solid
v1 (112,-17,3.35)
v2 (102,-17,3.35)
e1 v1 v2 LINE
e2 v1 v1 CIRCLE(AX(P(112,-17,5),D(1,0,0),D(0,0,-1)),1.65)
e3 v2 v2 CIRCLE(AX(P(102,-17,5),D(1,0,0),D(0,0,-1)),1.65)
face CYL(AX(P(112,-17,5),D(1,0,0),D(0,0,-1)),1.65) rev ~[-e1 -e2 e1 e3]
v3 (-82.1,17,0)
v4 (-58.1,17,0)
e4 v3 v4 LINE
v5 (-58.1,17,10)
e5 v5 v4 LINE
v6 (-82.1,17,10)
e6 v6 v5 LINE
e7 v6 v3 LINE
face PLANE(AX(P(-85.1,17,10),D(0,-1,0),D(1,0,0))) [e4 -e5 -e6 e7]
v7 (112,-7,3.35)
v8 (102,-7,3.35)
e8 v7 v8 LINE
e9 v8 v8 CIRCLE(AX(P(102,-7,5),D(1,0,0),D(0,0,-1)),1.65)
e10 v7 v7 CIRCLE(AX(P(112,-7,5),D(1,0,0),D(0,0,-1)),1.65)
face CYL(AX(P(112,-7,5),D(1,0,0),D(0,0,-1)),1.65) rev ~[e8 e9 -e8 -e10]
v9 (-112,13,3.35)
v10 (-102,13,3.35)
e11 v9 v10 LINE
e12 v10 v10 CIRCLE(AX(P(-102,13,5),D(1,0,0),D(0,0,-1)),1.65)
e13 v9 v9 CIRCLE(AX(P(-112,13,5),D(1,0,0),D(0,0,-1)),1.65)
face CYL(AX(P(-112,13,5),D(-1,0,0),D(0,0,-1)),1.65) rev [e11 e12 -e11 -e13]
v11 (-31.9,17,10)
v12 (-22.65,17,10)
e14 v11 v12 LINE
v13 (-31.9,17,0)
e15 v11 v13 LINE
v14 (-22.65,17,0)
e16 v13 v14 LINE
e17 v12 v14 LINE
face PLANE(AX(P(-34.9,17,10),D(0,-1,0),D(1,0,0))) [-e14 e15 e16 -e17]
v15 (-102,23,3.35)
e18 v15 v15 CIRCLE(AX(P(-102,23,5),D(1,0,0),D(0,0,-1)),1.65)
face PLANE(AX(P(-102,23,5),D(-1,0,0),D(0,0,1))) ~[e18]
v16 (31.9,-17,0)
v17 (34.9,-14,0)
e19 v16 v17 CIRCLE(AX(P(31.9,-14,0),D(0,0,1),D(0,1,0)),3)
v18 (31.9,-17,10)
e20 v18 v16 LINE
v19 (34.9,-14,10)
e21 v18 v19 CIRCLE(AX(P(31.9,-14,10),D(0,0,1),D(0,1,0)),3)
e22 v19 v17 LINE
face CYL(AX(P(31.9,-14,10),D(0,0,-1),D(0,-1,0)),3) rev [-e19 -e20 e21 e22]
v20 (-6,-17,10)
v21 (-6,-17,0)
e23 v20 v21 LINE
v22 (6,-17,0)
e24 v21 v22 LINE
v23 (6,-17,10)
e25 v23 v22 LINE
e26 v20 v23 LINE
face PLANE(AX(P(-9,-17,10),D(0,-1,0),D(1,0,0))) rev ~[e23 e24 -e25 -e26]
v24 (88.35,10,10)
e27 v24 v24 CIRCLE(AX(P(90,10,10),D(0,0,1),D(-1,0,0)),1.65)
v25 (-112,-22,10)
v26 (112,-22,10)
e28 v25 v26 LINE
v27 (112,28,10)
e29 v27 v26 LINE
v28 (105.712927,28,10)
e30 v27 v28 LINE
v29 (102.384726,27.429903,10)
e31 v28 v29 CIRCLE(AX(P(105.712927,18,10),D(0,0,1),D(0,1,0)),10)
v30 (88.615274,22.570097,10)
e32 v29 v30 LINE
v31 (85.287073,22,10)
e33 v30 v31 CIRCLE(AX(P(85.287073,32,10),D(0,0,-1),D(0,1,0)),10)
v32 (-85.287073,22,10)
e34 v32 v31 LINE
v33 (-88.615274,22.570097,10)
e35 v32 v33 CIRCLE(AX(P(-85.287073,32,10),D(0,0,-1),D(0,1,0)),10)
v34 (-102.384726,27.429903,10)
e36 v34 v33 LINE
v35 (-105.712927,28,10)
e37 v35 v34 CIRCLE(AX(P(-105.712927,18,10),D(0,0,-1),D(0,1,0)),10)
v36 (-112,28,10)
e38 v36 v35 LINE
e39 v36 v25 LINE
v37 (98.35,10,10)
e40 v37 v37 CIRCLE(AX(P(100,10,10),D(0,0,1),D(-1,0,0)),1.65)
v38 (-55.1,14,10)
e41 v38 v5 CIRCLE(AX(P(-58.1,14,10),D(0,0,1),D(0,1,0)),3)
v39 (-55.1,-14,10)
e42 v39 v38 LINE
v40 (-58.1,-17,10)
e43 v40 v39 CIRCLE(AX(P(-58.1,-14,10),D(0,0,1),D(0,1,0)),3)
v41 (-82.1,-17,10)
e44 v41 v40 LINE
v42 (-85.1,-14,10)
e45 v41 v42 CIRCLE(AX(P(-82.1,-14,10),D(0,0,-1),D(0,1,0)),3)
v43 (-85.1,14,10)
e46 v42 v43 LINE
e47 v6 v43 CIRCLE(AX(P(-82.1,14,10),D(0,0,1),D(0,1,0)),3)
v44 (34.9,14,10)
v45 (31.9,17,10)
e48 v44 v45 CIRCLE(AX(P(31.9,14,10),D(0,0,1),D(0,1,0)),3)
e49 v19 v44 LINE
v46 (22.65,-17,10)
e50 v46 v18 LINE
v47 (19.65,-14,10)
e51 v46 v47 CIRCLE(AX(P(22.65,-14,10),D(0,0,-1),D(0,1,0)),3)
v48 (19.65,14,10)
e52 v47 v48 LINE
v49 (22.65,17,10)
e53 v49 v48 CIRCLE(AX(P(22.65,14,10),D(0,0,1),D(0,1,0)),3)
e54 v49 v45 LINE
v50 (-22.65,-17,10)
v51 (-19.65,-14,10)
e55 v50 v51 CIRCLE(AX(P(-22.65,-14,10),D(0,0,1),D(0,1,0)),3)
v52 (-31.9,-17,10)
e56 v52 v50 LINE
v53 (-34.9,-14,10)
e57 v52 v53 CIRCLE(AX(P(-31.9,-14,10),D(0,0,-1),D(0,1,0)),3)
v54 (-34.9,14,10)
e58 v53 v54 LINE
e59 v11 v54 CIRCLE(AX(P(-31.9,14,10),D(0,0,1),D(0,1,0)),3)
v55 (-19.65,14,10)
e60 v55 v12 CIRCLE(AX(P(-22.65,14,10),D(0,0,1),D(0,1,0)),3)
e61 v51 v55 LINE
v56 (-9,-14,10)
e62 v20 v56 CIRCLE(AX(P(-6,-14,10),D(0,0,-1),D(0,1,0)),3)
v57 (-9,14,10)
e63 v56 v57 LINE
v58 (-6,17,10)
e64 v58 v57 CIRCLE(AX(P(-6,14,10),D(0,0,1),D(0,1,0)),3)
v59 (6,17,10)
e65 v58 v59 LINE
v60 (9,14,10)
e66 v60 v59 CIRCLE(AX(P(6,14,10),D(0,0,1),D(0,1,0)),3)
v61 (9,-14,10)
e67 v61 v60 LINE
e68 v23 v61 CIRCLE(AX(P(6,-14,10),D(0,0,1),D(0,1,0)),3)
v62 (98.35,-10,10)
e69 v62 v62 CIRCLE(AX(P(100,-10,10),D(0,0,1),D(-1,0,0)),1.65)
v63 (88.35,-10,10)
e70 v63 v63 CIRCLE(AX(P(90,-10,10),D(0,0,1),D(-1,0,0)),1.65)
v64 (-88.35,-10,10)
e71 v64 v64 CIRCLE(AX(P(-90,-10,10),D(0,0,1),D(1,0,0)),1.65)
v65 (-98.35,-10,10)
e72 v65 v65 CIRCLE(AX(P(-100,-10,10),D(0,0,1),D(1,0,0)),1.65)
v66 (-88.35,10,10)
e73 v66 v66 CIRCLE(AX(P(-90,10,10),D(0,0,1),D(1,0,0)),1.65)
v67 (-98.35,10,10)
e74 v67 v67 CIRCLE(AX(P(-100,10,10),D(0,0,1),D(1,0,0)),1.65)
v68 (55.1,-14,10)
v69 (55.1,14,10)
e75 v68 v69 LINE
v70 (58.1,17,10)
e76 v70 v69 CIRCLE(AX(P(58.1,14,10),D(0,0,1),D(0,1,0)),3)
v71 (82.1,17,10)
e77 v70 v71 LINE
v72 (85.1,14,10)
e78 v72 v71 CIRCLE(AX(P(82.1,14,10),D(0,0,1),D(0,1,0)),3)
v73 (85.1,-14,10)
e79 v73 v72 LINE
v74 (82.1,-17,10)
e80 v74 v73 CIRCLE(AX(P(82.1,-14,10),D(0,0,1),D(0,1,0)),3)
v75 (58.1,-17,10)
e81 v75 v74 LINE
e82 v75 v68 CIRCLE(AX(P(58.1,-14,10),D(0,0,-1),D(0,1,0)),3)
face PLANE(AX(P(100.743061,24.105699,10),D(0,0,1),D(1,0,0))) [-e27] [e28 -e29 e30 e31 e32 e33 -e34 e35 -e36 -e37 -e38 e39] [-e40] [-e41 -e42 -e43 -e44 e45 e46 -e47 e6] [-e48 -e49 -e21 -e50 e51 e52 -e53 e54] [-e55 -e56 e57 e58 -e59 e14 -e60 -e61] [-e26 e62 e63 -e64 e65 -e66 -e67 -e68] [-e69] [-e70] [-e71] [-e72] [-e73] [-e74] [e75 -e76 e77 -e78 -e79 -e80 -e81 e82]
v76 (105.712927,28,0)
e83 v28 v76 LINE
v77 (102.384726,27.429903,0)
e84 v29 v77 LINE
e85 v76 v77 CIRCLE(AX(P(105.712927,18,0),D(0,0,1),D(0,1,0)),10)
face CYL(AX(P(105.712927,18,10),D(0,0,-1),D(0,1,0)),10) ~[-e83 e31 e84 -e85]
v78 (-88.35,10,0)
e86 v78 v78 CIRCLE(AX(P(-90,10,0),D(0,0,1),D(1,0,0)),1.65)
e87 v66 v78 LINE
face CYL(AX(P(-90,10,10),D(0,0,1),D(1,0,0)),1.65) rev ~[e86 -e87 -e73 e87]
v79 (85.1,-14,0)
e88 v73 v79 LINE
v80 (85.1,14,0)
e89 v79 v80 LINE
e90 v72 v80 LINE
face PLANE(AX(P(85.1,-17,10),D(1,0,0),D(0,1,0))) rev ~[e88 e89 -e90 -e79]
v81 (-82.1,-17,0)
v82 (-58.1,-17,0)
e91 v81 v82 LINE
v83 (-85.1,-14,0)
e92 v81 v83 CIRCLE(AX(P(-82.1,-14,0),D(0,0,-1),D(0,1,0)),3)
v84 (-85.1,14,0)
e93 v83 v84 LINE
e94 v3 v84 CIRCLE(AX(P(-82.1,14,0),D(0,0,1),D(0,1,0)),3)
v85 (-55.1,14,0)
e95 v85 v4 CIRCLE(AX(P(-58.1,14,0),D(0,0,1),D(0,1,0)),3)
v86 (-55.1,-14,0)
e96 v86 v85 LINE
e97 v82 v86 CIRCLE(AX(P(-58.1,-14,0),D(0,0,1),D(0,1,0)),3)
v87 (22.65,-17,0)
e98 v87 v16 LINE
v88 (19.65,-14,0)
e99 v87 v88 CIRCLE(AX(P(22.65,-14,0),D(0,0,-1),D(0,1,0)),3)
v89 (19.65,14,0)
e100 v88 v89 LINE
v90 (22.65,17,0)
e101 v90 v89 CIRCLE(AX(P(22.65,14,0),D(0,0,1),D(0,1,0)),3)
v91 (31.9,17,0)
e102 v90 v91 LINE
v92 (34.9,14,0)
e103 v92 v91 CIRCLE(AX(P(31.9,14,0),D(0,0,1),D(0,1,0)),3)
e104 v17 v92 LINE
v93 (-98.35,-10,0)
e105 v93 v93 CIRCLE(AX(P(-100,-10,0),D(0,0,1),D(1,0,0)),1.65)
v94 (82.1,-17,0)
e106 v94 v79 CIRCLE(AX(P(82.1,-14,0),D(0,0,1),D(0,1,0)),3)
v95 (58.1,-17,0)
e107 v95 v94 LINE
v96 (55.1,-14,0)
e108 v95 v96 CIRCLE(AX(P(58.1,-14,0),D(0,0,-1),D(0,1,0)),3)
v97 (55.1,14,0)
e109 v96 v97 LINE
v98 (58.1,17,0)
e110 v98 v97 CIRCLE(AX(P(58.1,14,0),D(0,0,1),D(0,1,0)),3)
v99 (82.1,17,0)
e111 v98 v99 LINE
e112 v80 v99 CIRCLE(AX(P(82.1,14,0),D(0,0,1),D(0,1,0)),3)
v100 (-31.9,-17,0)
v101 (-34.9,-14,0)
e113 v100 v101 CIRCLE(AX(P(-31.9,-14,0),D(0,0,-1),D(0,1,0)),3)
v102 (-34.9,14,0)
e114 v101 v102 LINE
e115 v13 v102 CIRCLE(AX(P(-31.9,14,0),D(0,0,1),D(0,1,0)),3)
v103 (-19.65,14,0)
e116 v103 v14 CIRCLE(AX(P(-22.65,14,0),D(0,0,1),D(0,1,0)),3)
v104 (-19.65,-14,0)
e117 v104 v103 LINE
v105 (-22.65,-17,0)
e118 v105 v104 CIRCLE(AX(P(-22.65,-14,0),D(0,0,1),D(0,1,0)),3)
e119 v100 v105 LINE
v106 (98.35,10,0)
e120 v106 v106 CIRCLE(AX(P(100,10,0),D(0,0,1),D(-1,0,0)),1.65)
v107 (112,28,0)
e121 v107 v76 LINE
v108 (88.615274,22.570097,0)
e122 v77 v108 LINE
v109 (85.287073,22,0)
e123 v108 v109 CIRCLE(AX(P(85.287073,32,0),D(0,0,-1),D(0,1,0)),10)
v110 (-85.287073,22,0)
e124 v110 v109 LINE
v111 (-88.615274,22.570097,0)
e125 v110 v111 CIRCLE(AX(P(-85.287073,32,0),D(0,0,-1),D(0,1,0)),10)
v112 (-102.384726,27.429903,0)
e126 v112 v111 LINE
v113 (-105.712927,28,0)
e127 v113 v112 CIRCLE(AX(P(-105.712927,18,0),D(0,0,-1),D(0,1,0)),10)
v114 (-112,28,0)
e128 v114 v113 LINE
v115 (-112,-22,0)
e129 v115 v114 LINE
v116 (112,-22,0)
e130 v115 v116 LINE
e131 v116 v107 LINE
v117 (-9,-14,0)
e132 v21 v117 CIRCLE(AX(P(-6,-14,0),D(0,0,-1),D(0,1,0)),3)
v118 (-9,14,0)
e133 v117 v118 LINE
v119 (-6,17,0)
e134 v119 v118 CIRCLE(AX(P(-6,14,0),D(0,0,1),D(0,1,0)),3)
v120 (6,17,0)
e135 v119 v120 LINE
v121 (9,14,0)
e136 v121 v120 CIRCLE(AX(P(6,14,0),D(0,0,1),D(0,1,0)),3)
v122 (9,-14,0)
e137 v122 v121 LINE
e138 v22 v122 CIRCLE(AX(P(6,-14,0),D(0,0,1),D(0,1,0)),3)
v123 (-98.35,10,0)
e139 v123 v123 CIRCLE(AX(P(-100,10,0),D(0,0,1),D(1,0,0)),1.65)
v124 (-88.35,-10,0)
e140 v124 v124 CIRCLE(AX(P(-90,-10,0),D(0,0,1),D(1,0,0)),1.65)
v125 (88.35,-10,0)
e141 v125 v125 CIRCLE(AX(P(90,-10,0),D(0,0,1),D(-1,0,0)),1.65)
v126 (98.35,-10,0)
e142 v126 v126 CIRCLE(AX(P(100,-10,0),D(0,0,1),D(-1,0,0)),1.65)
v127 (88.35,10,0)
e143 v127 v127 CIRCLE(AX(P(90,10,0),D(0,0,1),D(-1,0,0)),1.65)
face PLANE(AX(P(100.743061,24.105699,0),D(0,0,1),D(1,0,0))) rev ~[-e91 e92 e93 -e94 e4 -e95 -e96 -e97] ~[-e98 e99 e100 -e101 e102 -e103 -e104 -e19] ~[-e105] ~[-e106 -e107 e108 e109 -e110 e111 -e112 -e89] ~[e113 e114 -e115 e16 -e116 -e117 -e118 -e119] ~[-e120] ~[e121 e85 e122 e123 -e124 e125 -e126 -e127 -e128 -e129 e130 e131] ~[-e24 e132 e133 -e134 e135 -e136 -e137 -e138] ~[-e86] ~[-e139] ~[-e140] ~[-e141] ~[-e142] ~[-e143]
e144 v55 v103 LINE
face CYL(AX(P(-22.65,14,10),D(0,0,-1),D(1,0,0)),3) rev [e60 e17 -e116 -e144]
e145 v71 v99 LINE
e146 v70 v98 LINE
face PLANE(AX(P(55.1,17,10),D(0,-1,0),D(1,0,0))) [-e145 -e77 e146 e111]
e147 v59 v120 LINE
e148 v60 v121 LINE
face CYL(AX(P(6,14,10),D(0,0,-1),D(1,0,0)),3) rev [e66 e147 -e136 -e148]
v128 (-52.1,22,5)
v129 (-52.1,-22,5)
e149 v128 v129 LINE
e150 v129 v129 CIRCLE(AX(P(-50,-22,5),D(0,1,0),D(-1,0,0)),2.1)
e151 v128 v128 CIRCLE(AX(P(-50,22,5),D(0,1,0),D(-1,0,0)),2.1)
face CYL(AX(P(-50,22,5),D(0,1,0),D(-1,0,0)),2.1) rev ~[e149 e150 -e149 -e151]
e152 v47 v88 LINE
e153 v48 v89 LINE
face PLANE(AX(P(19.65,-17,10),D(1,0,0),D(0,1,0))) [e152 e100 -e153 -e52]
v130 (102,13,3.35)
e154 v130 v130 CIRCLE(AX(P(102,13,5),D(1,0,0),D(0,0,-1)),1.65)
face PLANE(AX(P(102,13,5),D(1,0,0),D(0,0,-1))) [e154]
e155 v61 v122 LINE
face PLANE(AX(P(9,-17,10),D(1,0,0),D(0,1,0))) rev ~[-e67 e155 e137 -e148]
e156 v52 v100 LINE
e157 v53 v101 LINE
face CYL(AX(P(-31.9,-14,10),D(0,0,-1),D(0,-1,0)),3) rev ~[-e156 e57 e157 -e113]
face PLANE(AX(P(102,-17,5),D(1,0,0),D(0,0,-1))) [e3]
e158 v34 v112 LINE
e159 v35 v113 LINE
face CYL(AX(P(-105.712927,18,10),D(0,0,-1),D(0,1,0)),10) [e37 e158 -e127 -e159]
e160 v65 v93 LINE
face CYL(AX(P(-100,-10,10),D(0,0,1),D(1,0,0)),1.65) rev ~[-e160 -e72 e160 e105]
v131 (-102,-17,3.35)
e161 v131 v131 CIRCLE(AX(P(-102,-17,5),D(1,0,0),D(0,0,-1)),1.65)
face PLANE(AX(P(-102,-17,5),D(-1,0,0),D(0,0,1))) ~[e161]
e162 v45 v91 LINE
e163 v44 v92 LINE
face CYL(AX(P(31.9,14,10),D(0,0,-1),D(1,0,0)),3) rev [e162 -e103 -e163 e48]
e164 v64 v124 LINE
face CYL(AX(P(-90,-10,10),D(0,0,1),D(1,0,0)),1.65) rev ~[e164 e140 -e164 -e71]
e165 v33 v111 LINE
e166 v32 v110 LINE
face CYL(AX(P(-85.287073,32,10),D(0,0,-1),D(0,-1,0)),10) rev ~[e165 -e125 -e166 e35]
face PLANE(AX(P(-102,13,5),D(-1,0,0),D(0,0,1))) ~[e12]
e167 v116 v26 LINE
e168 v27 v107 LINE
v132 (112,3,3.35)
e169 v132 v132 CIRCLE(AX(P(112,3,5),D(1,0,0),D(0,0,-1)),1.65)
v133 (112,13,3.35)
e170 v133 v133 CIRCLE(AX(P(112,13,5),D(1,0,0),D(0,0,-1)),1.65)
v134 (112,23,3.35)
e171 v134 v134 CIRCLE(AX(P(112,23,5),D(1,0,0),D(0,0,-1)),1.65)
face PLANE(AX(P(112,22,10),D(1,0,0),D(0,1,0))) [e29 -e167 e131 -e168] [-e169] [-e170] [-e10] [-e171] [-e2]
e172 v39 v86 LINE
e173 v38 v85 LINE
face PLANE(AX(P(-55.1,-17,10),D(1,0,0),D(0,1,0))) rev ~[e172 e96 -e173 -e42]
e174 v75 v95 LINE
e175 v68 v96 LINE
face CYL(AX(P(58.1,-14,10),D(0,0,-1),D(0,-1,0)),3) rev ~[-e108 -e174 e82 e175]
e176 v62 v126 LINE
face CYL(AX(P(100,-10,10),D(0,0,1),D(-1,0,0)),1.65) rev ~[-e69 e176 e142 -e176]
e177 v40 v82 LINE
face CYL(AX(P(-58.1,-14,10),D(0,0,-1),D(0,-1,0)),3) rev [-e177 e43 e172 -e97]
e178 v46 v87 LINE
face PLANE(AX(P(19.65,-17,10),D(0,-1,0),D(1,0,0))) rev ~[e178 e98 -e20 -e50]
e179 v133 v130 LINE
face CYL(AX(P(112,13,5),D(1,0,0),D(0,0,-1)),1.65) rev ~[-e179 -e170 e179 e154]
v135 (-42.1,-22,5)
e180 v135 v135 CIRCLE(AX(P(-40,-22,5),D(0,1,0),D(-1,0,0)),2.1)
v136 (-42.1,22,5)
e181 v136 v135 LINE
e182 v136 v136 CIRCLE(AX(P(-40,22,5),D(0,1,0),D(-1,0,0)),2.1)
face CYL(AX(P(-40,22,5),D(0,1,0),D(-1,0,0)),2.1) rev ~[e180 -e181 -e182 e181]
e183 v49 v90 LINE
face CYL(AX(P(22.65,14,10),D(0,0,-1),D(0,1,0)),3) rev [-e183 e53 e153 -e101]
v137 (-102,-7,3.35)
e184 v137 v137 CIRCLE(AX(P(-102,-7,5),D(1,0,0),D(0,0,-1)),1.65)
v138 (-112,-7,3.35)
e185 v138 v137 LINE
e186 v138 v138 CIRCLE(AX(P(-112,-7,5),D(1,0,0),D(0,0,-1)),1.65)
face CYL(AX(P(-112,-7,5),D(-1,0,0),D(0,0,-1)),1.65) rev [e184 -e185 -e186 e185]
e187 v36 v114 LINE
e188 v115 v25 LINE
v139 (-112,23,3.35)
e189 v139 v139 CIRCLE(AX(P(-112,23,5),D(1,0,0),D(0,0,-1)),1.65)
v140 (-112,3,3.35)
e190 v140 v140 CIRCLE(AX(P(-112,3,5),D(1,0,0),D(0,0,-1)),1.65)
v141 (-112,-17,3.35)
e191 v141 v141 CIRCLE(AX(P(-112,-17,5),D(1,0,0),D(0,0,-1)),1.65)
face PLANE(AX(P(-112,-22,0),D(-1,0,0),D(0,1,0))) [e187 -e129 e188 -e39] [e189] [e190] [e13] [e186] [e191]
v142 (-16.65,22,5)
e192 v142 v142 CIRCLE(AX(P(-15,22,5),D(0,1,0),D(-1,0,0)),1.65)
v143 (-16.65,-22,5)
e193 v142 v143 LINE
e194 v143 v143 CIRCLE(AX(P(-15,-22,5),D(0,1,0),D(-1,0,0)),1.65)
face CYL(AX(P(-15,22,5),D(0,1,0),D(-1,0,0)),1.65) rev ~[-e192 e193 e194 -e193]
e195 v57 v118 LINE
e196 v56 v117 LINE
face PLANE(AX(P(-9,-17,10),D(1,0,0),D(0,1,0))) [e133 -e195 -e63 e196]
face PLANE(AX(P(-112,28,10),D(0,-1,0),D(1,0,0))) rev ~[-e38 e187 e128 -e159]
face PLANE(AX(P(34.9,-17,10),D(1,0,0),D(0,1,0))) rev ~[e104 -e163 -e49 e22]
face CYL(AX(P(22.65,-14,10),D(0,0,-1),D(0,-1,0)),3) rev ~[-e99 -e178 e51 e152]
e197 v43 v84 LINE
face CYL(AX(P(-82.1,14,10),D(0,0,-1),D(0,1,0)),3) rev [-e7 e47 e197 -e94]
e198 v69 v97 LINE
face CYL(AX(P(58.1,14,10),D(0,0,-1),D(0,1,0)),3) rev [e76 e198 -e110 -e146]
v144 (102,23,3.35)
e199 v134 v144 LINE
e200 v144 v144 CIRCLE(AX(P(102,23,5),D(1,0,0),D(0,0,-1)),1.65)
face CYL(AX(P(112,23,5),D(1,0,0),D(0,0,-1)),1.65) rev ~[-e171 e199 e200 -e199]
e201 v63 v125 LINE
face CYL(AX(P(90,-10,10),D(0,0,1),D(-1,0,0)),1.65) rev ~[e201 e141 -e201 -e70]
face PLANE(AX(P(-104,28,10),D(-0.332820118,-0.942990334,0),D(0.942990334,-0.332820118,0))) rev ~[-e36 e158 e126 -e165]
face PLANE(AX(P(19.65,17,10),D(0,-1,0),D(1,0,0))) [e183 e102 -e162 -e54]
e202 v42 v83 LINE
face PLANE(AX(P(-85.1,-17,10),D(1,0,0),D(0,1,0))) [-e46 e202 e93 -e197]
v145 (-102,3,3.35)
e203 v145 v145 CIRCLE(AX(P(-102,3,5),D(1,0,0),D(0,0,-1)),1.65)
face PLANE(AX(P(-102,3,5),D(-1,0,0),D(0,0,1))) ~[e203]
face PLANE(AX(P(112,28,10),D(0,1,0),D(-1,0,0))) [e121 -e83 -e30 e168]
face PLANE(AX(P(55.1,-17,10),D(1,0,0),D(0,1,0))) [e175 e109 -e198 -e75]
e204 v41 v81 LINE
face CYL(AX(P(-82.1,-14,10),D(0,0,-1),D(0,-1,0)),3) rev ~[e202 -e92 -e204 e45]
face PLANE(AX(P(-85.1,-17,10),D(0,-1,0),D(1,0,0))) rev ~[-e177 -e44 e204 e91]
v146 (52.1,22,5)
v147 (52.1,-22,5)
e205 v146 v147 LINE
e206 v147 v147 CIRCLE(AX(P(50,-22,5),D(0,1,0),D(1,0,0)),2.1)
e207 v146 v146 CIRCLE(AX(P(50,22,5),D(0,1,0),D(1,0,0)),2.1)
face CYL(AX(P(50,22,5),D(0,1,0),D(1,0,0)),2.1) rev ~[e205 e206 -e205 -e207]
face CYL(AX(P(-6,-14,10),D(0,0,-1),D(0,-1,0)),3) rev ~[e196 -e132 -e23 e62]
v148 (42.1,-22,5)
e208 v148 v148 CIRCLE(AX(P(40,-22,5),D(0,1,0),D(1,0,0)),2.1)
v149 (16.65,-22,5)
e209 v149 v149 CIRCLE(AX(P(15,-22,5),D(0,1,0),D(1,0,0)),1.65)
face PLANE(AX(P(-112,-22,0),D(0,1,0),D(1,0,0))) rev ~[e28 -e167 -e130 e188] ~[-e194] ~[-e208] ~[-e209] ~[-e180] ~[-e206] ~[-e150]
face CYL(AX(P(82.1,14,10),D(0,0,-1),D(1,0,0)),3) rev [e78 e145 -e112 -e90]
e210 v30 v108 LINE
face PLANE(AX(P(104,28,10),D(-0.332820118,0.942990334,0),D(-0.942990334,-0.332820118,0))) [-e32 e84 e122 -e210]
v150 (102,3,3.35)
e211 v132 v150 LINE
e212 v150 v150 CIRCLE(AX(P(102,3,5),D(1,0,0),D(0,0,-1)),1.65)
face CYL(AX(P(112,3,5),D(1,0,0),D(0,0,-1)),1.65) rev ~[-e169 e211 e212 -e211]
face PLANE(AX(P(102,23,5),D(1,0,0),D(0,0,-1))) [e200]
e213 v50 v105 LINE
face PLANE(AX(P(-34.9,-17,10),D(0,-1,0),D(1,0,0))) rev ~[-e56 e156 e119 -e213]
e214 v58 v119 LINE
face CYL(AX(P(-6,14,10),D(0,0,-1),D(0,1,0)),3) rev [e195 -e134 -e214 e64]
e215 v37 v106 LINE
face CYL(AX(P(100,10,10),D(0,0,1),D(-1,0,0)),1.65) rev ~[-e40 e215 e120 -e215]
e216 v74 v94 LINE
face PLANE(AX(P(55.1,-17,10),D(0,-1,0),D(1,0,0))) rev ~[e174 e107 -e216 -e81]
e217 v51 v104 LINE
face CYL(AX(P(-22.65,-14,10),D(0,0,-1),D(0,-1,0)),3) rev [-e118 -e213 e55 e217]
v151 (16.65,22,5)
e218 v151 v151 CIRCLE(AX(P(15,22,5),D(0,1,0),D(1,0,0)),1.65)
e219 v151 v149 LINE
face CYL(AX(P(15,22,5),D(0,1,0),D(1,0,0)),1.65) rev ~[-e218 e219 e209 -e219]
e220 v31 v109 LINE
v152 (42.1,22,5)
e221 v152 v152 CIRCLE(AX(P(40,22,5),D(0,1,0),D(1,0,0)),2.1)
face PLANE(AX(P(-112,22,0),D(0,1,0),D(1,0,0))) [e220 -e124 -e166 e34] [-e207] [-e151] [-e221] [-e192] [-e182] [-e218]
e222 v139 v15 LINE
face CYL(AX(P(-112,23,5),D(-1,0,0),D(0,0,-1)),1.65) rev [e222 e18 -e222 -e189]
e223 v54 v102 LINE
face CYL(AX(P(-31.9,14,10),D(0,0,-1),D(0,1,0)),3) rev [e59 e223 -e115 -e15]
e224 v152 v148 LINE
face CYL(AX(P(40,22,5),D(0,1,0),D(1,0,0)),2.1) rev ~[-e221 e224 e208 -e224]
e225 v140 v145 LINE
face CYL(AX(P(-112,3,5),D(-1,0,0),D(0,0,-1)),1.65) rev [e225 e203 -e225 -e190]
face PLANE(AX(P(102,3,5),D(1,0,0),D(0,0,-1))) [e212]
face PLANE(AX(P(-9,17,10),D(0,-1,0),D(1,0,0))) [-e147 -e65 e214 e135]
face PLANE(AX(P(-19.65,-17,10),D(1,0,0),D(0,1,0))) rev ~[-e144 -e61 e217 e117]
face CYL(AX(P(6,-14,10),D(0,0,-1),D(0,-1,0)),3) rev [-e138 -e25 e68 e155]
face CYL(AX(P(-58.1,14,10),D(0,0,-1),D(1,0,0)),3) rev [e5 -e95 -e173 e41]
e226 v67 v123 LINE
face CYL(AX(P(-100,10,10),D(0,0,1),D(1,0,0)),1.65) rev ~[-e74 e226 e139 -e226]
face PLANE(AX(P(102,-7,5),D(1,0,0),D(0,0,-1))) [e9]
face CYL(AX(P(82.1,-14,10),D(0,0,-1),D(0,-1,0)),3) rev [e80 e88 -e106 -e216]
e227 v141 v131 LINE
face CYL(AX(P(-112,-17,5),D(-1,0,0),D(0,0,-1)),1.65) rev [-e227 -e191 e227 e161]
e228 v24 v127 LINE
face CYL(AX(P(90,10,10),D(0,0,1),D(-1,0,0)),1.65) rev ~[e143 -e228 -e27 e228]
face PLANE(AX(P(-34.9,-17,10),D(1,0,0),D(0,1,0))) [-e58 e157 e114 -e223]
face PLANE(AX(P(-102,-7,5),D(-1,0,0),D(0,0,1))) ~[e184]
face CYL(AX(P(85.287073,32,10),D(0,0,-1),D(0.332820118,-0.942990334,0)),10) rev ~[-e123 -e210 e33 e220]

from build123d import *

# Parameters (mm, degrees)
SKETCH_1_W          = 224
SKETCH_1_H          = 44
EXTRUDE_1_DEPTH     = 10
SKETCH_2_R          = 2.1
SKETCH_2_R_2        = 1.65
CUT_EXTRUDE_1_DEPTH = 121.747670785
EXTRUDE_2_DEPTH     = 10
SKETCH_5_R          = 1.65
CUT_EXTRUDE_2_DEPTH = 10
SKETCH_6_R          = 1.65
CUT_EXTRUDE_3_DEPTH = 116.879247495
FILLET_1_R          = 10
SKETCH_7_W          = 18
SKETCH_7_H          = 34
SKETCH_7_W_2        = 15.25
SKETCH_7_W_3        = 30
CUT_EXTRUDE_4_DEPTH = 116.879247495
FILLET_2_R          = 3


with BuildPart() as part:
    # 草图1 → 凸台-拉伸1 (new body)
    with BuildSketch(Plane.XY):
        Rectangle(SKETCH_1_W, SKETCH_1_H)
    extrude(amount=EXTRUDE_1_DEPTH)

    # 草图2 → 切除-拉伸1 (cut, through all)
    with BuildSketch(Plane(origin=(0, 22, 0), x_dir=(1, 0, 0), z_dir=(0, 1, 0))):
        with Locations(Location((-40, -5, 0), (0, 0, 180))):
            Circle(SKETCH_2_R)
        with Locations(Location((-50, -5, 0), (0, 0, 180))):
            Circle(SKETCH_2_R)
        with Locations((50, -5)):
            Circle(SKETCH_2_R)
        with Locations((40, -5)):
            Circle(SKETCH_2_R)
        with Locations(Location((-15, -5, 0), (0, 0, 180))):
            Circle(SKETCH_2_R_2)
        with Locations((15, -5)):
            Circle(SKETCH_2_R_2)
    extrude(amount=-CUT_EXTRUDE_1_DEPTH, mode=Mode.SUBTRACT)

    # 草图4 → 凸台-拉伸2 (add)
    with BuildSketch(Plane.XY.offset(10)):
        Polygon((112, 22), (112, 28), (104, 28), (87, 22), align=None)
        Polygon((-87, 22), (-112, 22), (-112, 28), (-104, 28), align=None)
    extrude(amount=-EXTRUDE_2_DEPTH)

    # 草图5 → 切除-拉伸2 (cut)
    with BuildSketch(Plane(origin=(112, 0, 0), x_dir=(0, 0, -1), z_dir=(1, 0, 0))):
        with Locations((-5, 23)):
            Circle(SKETCH_5_R)
        with Locations((-5, 13)):
            Circle(SKETCH_5_R)
        with Locations((-5, 3)):
            Circle(SKETCH_5_R)
        with Locations((-5, -7)):
            Circle(SKETCH_5_R)
        with Locations((-5, -17)):
            Circle(SKETCH_5_R)
    cut_extrude_2 = extrude(amount=-CUT_EXTRUDE_2_DEPTH, mode=Mode.SUBTRACT)

    # 镜向1: 切除-拉伸2 across plane
    add(cut_extrude_2.mirror(Plane(origin=(0, 0, 0), x_dir=(0, 0, 1), z_dir=(1, 0, 0))), mode=Mode.SUBTRACT)

    # 草图6 → 切除-拉伸3 (cut, through all)
    with BuildSketch(Plane.XY.offset(10)):
        with Locations((-100, 10)):
            Circle(SKETCH_6_R)
        with Locations((-100, -10)):
            Circle(SKETCH_6_R)
        with Locations(Location((100, -10, 0), (0, 0, 180))):
            Circle(SKETCH_6_R)
        with Locations(Location((100, 10, 0), (0, 0, 180))):
            Circle(SKETCH_6_R)
        with Locations((-90, 10)):
            Circle(SKETCH_6_R)
        with Locations((-90, -10)):
            Circle(SKETCH_6_R)
        with Locations(Location((90, -10, 0), (0, 0, 180))):
            Circle(SKETCH_6_R)
        with Locations(Location((90, 10, 0), (0, 0, 180))):
            Circle(SKETCH_6_R)
    extrude(amount=-CUT_EXTRUDE_3_DEPTH, mode=Mode.SUBTRACT)

    # 圆角1
    fillet_1_edges = [part.edges().sort_by_distance(p)[0] for p in [
        (87, 22, 5),
        (104, 28, 5),
        (-104, 28, 5),
        (-87, 22, 5),
    ]]
    fillet(fillet_1_edges, radius=FILLET_1_R)

    # 草图7 → 切除-拉伸4 (cut, through all)
    with BuildSketch(Plane.XY.offset(10)):
        Rectangle(SKETCH_7_W, SKETCH_7_H)
        with Locations((27.275, 0)):
            Rectangle(SKETCH_7_W_2, SKETCH_7_H)
        with Locations((70.1, 0)):
            Rectangle(SKETCH_7_W_3, SKETCH_7_H)
        with Locations((-70.1, 0)):
            Rectangle(SKETCH_7_W_3, SKETCH_7_H)
        with Locations((-27.275, 0)):
            Rectangle(SKETCH_7_W_2, SKETCH_7_H)
    extrude(amount=-CUT_EXTRUDE_4_DEPTH, mode=Mode.SUBTRACT)

    # 圆角2
    fillet_2_edges = [part.edges().sort_by_distance(p)[0] for p in [
        (-19.65, 17, 5),
        (-19.65, -17, 5),
        (-34.9, -17, 5),
        (-34.9, 17, 5),
        (-85.1, -17, 5),
        (-85.1, 17, 5),
        (-55.1, 17, 5),
        (-55.1, -17, 5),
        (55.1, -17, 5),
        (55.1, 17, 5),
        (85.1, 17, 5),
        (85.1, -17, 5),
        (34.9, 17, 5),
        (34.9, -17, 5),
        (19.65, -17, 5),
        (19.65, 17, 5),
        (9, 17, 5),
        (9, -17, 5),
        (-9, -17, 5),
        (-9, 17, 5),
    ]]
    fillet(fillet_2_edges, radius=FILLET_2_R)


solid = part.part
